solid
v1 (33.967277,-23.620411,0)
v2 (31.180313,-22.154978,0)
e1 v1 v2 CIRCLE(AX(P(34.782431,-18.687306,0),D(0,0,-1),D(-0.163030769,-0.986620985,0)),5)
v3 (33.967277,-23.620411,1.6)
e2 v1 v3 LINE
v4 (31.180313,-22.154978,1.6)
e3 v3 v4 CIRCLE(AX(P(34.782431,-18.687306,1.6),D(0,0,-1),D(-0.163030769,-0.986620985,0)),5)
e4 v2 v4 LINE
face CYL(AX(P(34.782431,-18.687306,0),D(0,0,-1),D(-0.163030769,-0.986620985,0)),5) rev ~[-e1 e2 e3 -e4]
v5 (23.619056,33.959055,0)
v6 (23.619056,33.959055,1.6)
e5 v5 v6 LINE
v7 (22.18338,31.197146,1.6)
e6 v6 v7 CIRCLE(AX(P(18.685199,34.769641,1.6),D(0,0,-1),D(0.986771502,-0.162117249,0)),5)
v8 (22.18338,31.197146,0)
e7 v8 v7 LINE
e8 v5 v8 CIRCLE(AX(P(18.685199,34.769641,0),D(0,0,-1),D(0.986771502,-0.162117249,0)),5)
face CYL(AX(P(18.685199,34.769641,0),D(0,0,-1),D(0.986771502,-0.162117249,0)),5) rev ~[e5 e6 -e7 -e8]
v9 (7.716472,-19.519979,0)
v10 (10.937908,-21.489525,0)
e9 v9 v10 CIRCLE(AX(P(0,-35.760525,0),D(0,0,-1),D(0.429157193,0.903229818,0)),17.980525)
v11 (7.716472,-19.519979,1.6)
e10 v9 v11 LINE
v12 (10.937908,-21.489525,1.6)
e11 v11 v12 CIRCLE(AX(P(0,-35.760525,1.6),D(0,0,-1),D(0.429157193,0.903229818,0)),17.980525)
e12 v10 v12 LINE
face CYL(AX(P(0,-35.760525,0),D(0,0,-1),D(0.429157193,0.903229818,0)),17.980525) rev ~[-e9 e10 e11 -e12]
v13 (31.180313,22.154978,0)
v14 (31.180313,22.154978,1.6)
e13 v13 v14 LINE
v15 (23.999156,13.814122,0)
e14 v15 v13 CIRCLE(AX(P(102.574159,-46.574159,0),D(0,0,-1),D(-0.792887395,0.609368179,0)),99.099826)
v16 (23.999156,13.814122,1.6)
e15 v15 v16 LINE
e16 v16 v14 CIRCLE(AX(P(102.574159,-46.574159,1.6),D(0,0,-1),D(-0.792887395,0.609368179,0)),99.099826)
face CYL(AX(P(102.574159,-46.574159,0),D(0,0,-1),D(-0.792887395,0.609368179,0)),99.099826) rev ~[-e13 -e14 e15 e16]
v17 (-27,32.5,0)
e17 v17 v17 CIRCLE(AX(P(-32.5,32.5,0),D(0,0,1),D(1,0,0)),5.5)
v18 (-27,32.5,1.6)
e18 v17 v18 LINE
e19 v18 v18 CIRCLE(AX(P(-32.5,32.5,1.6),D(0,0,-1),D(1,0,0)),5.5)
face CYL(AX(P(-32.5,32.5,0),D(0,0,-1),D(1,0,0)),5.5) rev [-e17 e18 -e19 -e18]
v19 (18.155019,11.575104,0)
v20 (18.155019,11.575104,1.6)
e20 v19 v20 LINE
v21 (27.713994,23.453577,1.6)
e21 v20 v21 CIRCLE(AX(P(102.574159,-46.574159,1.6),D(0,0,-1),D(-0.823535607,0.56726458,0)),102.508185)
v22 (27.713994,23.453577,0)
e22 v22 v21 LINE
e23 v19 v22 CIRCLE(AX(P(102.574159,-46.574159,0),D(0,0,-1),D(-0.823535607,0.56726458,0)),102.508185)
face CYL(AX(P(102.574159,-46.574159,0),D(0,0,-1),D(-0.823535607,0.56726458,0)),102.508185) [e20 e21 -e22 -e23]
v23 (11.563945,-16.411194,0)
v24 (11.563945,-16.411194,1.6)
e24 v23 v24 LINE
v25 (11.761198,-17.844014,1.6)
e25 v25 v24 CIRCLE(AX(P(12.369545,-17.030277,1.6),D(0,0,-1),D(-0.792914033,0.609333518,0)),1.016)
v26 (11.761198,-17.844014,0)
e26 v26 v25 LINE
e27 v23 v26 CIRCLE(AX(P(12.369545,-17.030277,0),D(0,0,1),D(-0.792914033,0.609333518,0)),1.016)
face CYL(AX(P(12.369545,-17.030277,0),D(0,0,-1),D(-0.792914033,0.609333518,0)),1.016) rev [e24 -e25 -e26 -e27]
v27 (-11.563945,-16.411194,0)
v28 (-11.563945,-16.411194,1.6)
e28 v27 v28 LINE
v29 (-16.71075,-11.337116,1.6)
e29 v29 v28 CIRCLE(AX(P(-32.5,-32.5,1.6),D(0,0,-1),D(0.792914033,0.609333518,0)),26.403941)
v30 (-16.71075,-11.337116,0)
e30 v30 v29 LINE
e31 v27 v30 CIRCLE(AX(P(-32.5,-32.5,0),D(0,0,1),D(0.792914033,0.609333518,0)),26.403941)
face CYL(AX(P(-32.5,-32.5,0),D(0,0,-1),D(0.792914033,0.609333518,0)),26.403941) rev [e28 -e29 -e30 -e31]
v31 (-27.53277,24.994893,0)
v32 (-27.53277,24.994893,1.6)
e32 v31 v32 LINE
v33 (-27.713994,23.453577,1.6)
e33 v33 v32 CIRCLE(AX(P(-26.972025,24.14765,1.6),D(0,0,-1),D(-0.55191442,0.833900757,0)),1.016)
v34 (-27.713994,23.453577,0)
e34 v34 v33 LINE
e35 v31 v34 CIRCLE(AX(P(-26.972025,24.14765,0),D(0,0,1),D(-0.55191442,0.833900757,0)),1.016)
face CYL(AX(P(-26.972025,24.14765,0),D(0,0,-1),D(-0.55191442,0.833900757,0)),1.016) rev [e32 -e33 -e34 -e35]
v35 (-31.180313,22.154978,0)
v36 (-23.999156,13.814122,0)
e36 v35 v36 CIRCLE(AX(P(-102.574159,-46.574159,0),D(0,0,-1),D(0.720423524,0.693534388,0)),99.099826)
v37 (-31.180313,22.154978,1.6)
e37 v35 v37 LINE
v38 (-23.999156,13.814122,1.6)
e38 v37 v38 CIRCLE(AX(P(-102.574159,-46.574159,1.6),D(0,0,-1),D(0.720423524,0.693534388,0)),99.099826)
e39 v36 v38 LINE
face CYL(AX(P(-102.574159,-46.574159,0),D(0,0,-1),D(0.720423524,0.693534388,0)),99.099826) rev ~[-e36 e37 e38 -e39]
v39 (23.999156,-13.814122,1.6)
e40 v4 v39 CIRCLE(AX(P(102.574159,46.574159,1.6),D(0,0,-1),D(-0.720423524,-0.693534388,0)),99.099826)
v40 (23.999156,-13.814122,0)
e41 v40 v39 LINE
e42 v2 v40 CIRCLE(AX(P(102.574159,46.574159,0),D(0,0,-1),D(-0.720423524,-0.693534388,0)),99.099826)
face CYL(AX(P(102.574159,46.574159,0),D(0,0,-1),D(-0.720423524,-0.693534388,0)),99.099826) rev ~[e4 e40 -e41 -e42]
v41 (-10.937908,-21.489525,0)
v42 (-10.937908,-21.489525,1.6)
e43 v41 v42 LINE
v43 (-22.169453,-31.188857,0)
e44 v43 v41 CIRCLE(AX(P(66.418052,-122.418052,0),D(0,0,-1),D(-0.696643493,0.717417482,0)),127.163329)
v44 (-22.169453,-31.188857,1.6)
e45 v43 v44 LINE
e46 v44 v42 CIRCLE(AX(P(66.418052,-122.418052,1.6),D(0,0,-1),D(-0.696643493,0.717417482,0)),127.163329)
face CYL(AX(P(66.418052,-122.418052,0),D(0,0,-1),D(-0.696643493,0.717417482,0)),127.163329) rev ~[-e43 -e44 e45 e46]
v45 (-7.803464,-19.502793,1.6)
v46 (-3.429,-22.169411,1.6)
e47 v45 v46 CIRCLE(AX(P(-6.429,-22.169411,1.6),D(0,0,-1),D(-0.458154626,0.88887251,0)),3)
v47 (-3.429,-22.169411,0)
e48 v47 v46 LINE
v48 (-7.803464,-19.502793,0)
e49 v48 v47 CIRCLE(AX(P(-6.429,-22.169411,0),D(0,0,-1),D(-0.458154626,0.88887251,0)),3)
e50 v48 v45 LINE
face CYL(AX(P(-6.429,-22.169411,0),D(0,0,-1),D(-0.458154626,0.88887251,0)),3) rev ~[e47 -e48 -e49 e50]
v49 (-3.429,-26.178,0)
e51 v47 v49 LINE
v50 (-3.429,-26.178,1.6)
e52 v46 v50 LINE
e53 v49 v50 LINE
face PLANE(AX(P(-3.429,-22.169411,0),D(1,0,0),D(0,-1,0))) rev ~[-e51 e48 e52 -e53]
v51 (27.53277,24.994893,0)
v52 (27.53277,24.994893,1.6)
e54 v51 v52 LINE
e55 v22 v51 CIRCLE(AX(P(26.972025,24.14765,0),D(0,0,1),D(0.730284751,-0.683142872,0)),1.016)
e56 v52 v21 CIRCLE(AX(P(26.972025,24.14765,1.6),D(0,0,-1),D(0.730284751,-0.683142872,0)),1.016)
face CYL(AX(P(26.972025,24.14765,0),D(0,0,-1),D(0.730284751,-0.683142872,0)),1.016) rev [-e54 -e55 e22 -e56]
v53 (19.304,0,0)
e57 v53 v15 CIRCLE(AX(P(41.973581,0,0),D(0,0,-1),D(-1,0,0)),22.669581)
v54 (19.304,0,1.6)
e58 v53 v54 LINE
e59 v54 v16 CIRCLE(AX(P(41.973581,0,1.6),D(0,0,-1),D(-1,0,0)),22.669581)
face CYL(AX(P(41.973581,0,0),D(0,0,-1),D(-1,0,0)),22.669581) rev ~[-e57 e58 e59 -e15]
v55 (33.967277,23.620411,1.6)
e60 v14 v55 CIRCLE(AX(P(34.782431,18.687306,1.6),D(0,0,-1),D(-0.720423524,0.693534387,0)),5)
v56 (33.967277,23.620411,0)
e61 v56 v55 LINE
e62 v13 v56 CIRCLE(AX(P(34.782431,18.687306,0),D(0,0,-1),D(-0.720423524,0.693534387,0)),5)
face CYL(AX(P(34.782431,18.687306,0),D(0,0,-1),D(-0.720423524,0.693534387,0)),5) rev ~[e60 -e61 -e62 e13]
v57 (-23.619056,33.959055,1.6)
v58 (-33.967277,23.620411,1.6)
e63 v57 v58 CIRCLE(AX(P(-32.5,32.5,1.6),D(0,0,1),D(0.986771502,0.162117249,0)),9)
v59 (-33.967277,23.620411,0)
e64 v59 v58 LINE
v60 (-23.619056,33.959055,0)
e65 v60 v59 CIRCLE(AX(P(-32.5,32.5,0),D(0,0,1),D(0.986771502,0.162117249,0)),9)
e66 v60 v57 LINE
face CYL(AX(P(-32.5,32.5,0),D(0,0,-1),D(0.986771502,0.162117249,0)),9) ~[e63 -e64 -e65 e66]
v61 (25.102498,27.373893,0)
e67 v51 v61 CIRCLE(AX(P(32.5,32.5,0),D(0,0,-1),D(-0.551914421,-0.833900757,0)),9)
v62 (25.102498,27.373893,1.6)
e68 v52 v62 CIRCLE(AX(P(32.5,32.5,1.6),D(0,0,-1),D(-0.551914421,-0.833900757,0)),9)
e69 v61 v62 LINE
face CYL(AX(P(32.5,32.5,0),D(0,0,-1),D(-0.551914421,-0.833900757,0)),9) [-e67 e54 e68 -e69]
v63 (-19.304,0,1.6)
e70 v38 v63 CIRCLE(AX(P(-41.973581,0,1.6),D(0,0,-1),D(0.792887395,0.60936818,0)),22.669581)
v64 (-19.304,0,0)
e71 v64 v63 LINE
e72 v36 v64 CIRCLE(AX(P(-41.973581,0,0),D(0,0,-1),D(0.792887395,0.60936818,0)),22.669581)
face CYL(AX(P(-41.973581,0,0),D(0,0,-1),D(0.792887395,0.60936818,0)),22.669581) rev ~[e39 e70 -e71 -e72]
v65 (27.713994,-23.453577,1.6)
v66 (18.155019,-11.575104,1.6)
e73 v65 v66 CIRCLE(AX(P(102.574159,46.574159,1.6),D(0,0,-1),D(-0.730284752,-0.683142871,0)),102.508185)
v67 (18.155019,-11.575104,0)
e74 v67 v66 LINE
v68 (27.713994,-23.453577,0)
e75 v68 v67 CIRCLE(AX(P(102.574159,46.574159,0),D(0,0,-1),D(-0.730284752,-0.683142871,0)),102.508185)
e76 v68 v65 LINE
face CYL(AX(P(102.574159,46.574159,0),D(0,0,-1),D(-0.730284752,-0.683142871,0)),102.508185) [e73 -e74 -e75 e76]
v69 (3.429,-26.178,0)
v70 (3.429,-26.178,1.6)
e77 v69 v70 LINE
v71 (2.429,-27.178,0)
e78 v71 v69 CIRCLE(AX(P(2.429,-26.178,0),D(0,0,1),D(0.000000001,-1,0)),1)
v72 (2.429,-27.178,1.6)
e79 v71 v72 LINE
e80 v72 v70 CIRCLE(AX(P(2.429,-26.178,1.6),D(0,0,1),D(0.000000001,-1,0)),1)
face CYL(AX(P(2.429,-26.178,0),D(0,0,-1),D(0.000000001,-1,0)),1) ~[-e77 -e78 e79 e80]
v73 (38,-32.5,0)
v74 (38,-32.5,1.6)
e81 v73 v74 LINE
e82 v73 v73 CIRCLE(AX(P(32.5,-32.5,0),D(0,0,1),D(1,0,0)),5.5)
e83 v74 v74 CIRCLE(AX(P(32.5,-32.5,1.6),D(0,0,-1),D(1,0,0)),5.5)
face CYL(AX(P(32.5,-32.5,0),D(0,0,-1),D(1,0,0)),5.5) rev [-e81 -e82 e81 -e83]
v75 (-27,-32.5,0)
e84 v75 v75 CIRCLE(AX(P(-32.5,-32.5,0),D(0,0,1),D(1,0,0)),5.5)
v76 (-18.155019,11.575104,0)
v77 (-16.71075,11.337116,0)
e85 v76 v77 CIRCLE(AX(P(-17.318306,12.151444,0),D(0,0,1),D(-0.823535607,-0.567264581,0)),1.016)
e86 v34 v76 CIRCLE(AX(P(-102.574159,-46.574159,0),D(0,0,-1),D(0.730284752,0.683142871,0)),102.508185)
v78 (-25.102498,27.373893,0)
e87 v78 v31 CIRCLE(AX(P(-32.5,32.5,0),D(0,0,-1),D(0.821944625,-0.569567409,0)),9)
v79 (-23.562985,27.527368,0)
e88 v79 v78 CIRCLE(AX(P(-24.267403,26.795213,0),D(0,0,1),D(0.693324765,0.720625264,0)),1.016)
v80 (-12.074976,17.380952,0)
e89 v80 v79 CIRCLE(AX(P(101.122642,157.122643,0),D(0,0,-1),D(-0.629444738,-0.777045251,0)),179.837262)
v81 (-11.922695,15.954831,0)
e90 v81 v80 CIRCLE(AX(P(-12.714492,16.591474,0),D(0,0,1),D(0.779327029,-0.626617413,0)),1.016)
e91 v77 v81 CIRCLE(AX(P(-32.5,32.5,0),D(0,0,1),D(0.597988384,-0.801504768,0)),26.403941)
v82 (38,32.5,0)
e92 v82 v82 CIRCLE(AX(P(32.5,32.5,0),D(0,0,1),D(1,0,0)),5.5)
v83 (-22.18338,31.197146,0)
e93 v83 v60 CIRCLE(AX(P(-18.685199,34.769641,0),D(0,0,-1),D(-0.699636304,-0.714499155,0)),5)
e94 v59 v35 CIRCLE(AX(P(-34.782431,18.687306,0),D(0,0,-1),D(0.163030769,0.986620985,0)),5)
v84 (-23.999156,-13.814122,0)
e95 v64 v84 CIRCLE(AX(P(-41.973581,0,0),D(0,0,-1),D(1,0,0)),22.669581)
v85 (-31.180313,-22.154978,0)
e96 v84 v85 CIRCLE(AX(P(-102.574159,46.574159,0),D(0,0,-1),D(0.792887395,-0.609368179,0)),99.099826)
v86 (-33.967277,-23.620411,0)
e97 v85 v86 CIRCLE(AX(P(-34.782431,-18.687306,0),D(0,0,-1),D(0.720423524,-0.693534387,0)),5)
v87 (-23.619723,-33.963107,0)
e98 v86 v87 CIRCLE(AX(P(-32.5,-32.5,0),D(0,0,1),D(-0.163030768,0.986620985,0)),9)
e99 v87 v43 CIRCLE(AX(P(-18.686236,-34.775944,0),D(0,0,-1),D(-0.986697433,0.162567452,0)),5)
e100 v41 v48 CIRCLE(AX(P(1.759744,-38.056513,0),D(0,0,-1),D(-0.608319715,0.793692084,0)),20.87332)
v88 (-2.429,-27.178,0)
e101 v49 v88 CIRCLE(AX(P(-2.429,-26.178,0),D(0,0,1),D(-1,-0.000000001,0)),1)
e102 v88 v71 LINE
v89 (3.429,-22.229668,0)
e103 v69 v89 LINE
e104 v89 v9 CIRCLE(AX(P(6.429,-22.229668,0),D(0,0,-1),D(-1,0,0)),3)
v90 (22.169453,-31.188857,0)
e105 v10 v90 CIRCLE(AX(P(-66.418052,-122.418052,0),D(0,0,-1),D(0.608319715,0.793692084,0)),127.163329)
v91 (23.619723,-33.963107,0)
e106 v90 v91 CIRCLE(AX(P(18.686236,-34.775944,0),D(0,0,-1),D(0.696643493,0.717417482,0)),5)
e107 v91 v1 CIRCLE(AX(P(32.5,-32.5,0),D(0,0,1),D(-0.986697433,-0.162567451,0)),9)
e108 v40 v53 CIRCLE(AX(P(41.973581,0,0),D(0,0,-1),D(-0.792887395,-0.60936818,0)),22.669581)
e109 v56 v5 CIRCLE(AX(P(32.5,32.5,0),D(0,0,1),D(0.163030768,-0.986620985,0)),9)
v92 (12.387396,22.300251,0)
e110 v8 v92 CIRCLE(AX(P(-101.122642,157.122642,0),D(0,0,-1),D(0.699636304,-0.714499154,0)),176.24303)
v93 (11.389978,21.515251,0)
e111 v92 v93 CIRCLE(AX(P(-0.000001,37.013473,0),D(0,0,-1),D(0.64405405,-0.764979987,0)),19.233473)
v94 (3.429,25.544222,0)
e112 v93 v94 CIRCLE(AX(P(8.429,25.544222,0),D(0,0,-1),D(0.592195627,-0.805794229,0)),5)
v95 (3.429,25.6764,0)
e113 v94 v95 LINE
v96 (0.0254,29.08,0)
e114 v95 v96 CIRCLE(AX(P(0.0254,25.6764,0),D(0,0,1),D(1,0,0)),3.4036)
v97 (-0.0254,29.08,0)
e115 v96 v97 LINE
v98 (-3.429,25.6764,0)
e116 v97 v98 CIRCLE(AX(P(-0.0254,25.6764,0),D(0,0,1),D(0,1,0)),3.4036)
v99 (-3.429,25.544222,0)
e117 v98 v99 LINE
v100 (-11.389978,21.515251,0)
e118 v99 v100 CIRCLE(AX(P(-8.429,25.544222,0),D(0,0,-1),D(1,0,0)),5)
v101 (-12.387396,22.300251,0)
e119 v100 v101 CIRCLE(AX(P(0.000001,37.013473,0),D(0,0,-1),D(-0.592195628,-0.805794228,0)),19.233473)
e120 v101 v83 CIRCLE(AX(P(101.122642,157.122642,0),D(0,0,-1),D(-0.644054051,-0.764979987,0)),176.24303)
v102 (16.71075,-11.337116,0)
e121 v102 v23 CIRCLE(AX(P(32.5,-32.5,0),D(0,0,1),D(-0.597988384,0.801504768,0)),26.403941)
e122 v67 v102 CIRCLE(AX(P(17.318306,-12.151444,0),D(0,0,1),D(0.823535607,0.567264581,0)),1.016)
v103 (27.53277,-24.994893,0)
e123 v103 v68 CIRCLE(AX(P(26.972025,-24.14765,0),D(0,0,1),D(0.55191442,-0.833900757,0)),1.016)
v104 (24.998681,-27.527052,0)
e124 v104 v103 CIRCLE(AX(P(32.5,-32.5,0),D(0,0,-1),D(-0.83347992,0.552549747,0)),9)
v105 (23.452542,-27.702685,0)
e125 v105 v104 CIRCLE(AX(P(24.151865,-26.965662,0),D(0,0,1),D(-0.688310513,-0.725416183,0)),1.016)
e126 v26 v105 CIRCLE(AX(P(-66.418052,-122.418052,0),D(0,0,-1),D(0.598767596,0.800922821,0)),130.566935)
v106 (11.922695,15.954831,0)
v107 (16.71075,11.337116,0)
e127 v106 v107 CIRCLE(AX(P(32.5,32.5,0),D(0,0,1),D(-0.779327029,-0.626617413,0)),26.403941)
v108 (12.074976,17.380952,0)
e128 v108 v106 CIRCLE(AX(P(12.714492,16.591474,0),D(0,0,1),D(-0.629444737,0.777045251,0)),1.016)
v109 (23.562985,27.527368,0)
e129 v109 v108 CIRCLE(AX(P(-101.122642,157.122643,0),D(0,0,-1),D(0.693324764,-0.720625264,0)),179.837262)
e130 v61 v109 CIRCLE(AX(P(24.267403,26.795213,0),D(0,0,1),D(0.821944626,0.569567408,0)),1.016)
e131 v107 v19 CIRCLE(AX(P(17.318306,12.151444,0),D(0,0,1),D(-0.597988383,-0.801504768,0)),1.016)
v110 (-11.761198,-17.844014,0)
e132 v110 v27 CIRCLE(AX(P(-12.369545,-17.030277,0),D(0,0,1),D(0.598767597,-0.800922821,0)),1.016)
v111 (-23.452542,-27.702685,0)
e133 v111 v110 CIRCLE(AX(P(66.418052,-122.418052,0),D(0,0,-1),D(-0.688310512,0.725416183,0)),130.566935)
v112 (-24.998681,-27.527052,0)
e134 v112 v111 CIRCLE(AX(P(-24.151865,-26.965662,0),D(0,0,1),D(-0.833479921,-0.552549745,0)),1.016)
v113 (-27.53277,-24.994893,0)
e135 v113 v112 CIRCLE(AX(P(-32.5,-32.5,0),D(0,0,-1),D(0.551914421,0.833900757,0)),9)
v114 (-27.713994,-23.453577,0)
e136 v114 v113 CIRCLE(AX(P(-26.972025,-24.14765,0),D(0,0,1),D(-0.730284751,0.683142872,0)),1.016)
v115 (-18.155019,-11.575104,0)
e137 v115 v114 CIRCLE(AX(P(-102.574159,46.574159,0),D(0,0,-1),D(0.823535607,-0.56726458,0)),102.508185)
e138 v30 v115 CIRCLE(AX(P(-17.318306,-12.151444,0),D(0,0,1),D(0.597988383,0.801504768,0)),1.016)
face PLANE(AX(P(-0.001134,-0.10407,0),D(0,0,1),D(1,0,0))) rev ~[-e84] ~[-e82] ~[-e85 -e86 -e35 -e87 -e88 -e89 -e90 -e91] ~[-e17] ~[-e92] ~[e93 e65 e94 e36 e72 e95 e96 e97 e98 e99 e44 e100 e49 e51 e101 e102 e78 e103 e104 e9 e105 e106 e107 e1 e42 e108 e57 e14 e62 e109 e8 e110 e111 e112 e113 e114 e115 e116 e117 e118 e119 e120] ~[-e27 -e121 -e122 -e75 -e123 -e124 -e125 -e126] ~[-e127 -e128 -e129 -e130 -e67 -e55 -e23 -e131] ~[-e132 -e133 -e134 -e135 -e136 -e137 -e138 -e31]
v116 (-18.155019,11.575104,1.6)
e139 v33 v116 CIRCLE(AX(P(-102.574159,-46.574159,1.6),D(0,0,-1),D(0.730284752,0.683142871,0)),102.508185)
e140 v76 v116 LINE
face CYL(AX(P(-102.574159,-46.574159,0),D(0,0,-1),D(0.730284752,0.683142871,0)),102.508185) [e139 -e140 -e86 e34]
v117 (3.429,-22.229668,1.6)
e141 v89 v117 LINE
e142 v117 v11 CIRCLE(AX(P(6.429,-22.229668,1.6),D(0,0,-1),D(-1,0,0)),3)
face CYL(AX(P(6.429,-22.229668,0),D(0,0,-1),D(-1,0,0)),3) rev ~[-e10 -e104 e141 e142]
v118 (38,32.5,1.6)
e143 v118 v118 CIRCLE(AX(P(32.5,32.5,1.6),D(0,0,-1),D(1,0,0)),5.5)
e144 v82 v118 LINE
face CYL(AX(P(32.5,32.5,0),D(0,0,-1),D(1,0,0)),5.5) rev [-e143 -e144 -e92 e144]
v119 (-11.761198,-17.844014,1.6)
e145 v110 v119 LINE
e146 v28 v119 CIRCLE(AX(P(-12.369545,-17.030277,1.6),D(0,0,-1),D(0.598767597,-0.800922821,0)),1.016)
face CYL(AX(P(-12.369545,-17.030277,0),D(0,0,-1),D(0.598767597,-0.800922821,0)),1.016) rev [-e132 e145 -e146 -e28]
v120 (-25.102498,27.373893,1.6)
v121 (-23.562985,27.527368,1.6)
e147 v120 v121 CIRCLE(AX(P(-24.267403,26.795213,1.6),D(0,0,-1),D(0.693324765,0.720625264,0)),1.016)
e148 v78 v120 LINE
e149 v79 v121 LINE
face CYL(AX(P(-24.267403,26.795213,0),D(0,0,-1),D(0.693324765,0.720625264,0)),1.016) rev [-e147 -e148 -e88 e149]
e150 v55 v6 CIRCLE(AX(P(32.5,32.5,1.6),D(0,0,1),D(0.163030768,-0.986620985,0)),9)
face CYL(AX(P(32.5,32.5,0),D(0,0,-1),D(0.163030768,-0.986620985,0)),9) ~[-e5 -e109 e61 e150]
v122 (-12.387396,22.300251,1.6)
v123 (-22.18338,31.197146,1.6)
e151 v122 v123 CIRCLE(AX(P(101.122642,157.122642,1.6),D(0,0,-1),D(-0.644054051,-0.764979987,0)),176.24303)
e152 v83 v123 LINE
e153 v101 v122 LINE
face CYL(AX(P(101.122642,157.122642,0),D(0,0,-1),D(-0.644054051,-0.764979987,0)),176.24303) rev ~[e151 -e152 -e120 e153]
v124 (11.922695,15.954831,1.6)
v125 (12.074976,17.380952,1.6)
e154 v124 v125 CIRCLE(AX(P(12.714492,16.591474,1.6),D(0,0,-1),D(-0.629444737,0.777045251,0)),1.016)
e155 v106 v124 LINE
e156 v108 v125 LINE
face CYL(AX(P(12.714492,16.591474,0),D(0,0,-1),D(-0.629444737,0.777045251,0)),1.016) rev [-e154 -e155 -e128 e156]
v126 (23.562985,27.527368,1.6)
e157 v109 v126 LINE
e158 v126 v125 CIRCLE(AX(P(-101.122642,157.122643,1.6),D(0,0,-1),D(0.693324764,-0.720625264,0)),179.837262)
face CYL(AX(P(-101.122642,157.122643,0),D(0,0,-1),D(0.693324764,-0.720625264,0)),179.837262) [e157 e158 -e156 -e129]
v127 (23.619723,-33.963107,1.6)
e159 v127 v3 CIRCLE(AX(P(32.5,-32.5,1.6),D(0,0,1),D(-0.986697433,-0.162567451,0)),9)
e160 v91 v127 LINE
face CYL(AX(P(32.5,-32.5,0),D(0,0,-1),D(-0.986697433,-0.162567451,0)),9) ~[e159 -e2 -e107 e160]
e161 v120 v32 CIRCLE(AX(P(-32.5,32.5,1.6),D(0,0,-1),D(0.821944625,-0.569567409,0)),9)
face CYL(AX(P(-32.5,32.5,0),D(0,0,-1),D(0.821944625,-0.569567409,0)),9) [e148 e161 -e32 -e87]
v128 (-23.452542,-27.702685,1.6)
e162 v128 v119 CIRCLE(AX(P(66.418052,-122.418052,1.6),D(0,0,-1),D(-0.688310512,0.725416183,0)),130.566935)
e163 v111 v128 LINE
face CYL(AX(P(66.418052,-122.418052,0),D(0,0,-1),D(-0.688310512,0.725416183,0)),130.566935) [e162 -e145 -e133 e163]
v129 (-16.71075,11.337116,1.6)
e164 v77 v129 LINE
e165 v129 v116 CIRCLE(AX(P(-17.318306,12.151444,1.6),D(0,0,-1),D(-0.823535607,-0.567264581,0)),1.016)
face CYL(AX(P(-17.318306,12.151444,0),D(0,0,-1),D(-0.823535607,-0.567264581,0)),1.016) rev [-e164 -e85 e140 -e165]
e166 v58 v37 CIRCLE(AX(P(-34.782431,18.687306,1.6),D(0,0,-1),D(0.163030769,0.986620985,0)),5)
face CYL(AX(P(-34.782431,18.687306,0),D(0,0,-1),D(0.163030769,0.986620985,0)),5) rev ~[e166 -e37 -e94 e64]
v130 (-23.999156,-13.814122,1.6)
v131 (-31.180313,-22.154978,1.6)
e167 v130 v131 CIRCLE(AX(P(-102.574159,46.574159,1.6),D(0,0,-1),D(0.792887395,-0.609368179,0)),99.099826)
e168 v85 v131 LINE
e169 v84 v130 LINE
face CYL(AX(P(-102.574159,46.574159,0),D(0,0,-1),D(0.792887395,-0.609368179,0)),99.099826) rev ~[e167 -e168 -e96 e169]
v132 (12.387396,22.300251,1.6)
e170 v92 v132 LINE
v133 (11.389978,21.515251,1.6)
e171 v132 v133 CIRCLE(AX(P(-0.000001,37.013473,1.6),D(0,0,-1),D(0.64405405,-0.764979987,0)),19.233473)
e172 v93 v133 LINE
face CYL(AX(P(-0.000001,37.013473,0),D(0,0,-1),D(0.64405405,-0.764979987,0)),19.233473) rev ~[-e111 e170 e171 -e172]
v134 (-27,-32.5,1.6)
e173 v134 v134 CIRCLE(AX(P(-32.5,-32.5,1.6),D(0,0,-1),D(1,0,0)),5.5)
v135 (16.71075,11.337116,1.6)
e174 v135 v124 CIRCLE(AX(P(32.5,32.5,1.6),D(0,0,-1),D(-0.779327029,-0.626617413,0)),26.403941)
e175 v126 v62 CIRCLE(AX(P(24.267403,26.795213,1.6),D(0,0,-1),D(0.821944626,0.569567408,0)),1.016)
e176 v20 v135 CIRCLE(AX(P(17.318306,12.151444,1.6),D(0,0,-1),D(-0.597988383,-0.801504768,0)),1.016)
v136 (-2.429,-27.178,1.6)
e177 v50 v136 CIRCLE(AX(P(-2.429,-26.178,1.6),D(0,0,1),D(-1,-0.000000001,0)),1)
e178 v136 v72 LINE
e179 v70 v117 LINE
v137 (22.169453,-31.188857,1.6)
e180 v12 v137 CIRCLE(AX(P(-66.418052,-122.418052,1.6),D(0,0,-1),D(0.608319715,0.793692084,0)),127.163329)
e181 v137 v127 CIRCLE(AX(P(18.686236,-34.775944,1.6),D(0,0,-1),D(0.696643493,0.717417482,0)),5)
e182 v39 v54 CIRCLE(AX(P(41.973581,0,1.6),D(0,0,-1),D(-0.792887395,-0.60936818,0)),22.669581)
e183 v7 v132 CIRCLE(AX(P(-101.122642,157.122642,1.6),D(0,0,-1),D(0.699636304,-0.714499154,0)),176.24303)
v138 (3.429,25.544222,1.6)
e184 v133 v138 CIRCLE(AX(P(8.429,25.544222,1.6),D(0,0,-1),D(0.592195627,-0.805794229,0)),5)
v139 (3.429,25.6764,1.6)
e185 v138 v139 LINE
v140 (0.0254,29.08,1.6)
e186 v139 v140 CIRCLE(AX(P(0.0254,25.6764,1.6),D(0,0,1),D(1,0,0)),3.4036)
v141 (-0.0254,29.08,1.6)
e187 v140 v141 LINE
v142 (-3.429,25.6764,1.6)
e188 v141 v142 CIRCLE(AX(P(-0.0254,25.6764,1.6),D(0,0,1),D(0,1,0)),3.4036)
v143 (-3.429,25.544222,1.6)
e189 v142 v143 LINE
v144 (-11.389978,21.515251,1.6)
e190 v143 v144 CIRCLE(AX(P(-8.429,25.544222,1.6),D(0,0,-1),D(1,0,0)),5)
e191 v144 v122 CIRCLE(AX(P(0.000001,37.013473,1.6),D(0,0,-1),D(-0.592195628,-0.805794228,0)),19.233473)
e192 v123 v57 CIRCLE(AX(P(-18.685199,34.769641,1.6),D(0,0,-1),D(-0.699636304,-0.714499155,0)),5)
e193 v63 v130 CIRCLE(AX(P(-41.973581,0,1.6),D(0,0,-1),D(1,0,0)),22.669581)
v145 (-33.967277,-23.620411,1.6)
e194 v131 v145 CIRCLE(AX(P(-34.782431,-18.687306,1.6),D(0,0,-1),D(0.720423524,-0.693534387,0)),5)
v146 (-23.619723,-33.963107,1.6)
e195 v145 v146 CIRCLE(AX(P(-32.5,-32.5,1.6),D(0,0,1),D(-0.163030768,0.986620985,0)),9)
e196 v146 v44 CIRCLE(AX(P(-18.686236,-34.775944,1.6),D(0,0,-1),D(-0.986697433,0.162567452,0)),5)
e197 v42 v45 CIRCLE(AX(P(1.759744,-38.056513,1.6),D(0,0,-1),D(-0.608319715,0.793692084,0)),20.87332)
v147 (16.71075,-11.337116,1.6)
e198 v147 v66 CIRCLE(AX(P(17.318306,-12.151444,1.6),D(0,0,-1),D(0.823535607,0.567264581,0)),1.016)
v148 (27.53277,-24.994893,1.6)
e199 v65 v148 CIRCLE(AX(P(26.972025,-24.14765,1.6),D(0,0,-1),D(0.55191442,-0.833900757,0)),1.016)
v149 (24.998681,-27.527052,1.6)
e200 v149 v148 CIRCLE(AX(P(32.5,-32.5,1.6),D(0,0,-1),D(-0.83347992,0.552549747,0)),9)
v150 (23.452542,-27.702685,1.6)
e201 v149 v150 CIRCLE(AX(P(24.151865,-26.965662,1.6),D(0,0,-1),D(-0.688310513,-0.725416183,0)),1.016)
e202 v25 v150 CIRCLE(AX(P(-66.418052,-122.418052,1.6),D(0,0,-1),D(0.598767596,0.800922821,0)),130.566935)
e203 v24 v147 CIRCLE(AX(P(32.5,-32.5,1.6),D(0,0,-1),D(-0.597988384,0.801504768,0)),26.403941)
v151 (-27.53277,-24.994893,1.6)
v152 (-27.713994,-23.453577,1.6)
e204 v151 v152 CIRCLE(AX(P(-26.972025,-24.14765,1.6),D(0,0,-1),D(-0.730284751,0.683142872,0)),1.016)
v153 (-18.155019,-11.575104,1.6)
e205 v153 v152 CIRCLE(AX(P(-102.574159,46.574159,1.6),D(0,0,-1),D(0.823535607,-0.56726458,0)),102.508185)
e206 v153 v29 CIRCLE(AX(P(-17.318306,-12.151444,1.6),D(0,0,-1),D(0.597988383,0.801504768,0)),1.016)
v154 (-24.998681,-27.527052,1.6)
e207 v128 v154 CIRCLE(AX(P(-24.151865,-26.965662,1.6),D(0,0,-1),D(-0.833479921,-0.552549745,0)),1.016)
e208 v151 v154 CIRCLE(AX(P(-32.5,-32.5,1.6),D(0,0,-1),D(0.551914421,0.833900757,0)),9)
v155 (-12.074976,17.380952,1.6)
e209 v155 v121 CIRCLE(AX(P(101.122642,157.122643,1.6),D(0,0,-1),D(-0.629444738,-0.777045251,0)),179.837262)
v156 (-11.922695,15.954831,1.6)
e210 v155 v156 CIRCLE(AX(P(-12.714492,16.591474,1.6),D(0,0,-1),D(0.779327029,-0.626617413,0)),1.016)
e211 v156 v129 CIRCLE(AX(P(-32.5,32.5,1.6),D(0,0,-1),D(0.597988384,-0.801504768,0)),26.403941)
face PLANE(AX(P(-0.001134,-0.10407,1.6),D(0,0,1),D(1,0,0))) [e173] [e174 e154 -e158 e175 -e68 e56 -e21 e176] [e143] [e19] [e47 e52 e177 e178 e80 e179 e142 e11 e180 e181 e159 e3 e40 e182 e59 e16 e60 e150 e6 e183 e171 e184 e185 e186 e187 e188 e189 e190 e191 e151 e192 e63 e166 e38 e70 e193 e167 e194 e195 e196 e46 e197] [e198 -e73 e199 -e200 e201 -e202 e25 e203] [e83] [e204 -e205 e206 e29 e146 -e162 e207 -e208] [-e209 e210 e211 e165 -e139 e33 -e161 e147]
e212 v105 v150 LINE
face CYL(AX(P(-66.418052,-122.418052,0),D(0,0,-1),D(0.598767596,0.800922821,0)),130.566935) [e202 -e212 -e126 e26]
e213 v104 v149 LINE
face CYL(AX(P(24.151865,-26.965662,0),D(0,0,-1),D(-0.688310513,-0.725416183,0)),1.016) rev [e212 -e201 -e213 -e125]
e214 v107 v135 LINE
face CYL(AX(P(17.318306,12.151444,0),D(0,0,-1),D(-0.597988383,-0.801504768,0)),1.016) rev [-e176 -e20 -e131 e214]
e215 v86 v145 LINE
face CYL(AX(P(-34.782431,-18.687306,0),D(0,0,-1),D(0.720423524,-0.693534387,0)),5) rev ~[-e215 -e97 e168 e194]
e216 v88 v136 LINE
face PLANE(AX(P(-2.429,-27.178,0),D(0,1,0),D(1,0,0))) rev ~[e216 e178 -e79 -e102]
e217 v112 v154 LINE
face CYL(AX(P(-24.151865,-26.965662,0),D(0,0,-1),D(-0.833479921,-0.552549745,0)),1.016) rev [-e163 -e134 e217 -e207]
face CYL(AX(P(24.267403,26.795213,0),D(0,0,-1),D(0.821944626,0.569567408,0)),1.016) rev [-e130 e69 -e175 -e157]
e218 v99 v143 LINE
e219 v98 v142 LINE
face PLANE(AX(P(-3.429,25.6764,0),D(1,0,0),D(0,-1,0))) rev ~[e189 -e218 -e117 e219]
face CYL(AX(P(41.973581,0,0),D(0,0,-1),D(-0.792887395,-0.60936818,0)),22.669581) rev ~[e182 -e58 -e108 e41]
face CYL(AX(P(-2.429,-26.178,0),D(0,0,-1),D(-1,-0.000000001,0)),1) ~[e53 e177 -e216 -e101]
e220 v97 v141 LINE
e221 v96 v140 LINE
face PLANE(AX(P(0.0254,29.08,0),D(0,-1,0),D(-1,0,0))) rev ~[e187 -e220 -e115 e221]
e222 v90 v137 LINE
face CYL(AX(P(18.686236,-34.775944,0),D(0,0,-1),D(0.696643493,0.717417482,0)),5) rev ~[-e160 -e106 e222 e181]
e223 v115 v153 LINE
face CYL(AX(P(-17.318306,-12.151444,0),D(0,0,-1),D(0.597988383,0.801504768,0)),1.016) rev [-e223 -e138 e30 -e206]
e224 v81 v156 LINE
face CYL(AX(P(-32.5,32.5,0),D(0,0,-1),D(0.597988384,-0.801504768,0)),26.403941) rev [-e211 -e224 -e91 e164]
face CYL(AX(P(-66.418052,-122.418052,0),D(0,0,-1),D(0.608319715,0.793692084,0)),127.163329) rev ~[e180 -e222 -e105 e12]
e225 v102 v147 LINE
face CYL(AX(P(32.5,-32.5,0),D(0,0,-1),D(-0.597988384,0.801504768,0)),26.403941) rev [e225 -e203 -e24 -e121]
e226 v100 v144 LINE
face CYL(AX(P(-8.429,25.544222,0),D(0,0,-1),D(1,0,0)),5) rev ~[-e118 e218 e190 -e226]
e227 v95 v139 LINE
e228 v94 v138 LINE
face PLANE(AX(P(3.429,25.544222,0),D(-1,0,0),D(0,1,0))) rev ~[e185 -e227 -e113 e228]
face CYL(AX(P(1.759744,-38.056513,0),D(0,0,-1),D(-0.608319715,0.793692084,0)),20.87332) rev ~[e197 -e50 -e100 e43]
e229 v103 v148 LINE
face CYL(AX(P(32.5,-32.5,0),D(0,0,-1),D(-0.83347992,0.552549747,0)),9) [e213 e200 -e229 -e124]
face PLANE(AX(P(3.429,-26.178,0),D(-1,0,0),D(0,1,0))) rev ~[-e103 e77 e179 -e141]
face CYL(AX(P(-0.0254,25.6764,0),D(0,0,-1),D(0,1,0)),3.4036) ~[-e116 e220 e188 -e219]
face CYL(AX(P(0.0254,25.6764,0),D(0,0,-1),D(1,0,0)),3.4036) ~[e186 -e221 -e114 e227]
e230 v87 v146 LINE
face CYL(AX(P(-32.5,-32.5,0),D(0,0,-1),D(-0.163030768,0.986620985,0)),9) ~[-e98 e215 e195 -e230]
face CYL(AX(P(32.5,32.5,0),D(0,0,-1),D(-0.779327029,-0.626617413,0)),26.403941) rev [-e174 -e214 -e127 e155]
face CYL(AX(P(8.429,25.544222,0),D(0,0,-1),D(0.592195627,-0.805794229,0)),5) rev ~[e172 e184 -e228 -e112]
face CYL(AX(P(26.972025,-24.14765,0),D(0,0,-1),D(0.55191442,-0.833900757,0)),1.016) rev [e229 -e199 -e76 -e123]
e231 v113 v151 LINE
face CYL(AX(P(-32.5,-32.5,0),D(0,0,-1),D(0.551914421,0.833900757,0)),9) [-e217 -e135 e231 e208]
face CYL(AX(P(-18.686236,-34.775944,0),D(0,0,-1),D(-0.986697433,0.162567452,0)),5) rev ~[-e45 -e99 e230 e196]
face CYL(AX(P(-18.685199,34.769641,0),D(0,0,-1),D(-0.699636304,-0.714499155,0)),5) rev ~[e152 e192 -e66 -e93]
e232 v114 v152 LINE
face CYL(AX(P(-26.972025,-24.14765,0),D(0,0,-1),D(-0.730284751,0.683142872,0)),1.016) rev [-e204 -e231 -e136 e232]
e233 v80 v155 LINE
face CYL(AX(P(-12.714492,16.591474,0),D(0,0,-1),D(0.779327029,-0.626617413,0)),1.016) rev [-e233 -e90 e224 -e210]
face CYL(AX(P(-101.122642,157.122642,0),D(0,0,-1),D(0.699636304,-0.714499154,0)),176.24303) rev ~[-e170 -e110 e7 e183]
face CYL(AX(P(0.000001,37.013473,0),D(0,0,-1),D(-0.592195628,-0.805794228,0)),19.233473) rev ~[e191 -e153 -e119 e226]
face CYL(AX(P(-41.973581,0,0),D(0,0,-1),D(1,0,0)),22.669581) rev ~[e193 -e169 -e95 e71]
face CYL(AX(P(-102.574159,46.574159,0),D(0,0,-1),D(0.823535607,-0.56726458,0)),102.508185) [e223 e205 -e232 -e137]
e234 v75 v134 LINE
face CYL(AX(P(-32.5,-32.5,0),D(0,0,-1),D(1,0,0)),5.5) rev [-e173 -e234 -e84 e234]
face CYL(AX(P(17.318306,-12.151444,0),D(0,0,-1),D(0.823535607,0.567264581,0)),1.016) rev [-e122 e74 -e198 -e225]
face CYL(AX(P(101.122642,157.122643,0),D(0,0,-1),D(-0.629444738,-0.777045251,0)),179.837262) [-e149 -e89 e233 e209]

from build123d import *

# Parameters (mm, degrees)
BOSS_EXTRUDE1_DEPTH = 1.6
SKETCH1_5_R         = 5.5
CUT_EXTRUDE3_DEPTH  = 59.711668346


with BuildPart() as part:
    # Sketch1 → Boss-Extrude1 (new body)
    with BuildSketch(Plane.XY):
        with BuildLine():
            Line((-3.429, -22.169410702), (-3.429, -26.178))
            ThreePointArc((-3.429, -26.178), (-3.136106781, -26.885106781), (-2.429, -27.178))
            Line((-2.429, -27.178), (2.429, -27.178))
            ThreePointArc((2.429, -27.178), (3.136106781, -26.885106781), (3.429, -26.178))
            Line((3.429, -26.178), (3.429, -22.22966812))
            ThreePointArc((3.429, -22.22966812), (4.826254657, -19.693685595), (7.716471578, -19.519978666))
            ThreePointArc((7.716471578, -19.519978666), (9.379032197, -20.419956769), (10.937907763, -21.489524611))
            ThreePointArc((10.937907763, -21.489524611), (16.695290309, -26.175210804), (22.169453406, -31.188856909))
            ThreePointArc((22.169453406, -31.188856909), (23.117301861, -32.459556006), (23.619723106, -33.963107063))
            ThreePointArc((23.619723106, -33.963107063), (38.862466656, -38.865455055), (33.967276916, -23.620411133))
            ThreePointArc((33.967276916, -23.620411133), (32.455427267, -23.112806715), (31.180313141, -22.154978144))
            ThreePointArc((31.180313141, -22.154978144), (27.47385025, -18.084321842), (23.999156064, -13.81412159))
            ThreePointArc((23.999156064, -13.81412159), (20.509860624, -7.295108734), (19.304, 0))
            ThreePointArc((19.304, 0), (20.509860624, 7.295108734), (23.999156064, 13.81412159))
            ThreePointArc((23.999156064, 13.81412159), (27.47385025, 18.084321842), (31.180313141, 22.154978144))
            ThreePointArc((31.180313141, 22.154978144), (32.455427267, 23.112806715), (33.967276916, 23.620411133))
            ThreePointArc((33.967276916, 23.620411133), (38.861014354, 38.866906343), (23.61905648, 33.959055239))
            ThreePointArc((23.61905648, 33.959055239), (23.121622823, 32.463531472), (22.183380489, 31.19714571))
            ThreePointArc((22.183380489, 31.19714571), (17.368920037, 26.656724902), (12.387395689, 22.300250899))
            ThreePointArc((12.387395689, 22.300250899), (11.895164251, 21.899521015), (11.389978134, 21.515251299))
            ThreePointArc((11.389978134, 21.515251299), (6.171223513, 21.083006766), (3.429, 25.544222445))
            Line((3.429, 25.544222445), (3.429, 25.6764))
            ThreePointArc((3.429, 25.6764), (2.43210864, 28.08310864), (0.0254, 29.08))
            Line((0.0254, 29.08), (-0.0254, 29.08))
            ThreePointArc((-0.0254, 29.08), (-2.43210864, 28.08310864), (-3.429, 25.6764))
            Line((-3.429, 25.6764), (-3.429, 25.544222445))
            ThreePointArc((-3.429, 25.544222445), (-6.171223513, 21.083006766), (-11.389978134, 21.515251299))
            ThreePointArc((-11.389978134, 21.515251299), (-11.895164251, 21.899521015), (-12.387395689, 22.300250899))
            ThreePointArc((-12.387395689, 22.300250899), (-17.368920037, 26.656724902), (-22.183380489, 31.19714571))
            ThreePointArc((-22.183380489, 31.19714571), (-23.121622823, 32.463531472), (-23.61905648, 33.959055239))
            ThreePointArc((-23.61905648, 33.959055239), (-38.861014354, 38.866906343), (-33.967276916, 23.620411133))
            ThreePointArc((-33.967276916, 23.620411133), (-32.455427267, 23.112806715), (-31.180313141, 22.154978144))
            ThreePointArc((-31.180313141, 22.154978144), (-27.47385025, 18.084321842), (-23.999156064, 13.81412159))
            ThreePointArc((-23.999156064, 13.81412159), (-20.509860624, 7.295108734), (-19.304, 0))
            ThreePointArc((-19.304, 0), (-20.509860624, -7.295108734), (-23.999156064, -13.81412159))
            ThreePointArc((-23.999156064, -13.81412159), (-27.47385025, -18.084321842), (-31.180313141, -22.154978144))
            ThreePointArc((-31.180313141, -22.154978144), (-32.455427267, -23.112806715), (-33.967276916, -23.620411133))
            ThreePointArc((-33.967276916, -23.620411133), (-38.862466656, -38.865455055), (-23.619723106, -33.963107063))
            ThreePointArc((-23.619723106, -33.963107063), (-23.117301861, -32.459556006), (-22.169453406, -31.188856909))
            ThreePointArc((-22.169453406, -31.188856909), (-16.695290309, -26.175210804), (-10.937907763, -21.489524611))
            ThreePointArc((-10.937907763, -21.489524611), (-9.414925724, -20.426362093), (-7.803463878, -19.502793172))
            ThreePointArc((-7.803463878, -19.502793172), (-4.867492977, -19.607829975), (-3.429, -22.169410702))
        make_face()
    extrude(amount=BOSS_EXTRUDE1_DEPTH)

    # Sketch1<5> → Cut-Extrude3 (cut, through all)
    with BuildSketch(Plane.XY):
        with Locations((-32.5, -32.5)):
            Circle(SKETCH1_5_R)
        with Locations((32.5, -32.5)):
            Circle(SKETCH1_5_R)
        with Locations((32.5, 32.5)):
            Circle(SKETCH1_5_R)
        with Locations((-32.5, 32.5)):
            Circle(SKETCH1_5_R)
        with BuildLine():
            ThreePointArc((-24.998680714, -27.527052285), (-24.266539251, -27.975169466), (-23.452541635, -27.702684585))
            ThreePointArc((-23.452541635, -27.702684585), (-17.751335536, -22.602028101), (-11.761197607, -17.84401432))
            ThreePointArc((-11.761197607, -17.84401432), (-11.363038546, -17.168840008), (-11.563944828, -16.411193879))
            ThreePointArc((-11.563944828, -16.411193879), (-13.962913518, -13.697220596), (-16.710750131, -11.337115576))
            ThreePointArc((-16.710750131, -11.337115576), (-17.483496193, -11.148963344), (-18.155018506, -11.575103607))
            ThreePointArc((-18.155018506, -11.575103607), (-22.713350188, -17.692311571), (-27.713994469, -23.453576864))
            ThreePointArc((-27.713994469, -23.453576864), (-27.981074308, -24.266291585), (-27.532770213, -24.994893189))
            ThreePointArc((-27.532770213, -24.994893189), (-26.138464304, -26.133614559), (-24.998680714, -27.527052285))
        make_face()
        with BuildLine():
            ThreePointArc((18.155018506, -11.575103607), (17.483496193, -11.148963344), (16.710750131, -11.337115576))
            ThreePointArc((16.710750131, -11.337115576), (13.962913518, -13.697220596), (11.563944828, -16.411193879))
            ThreePointArc((11.563944828, -16.411193879), (11.363038546, -17.168840008), (11.761197607, -17.84401432))
            ThreePointArc((11.761197607, -17.84401432), (17.751335536, -22.602028101), (23.452541635, -27.702684585))
            ThreePointArc((23.452541635, -27.702684585), (24.266539251, -27.975169466), (24.998680714, -27.527052285))
            ThreePointArc((24.998680714, -27.527052285), (26.138464304, -26.133614559), (27.532770213, -24.994893189))
            ThreePointArc((27.532770213, -24.994893189), (27.981074308, -24.266291585), (27.713994469, -23.453576864))
            ThreePointArc((27.713994469, -23.453576864), (22.713350188, -17.692311571), (18.155018506, -11.575103607))
        make_face()
        with BuildLine():
            ThreePointArc((-12.074975691, 17.380952209), (-17.927124595, 22.331716527), (-23.562984675, 27.527368101))
            ThreePointArc((-23.562984675, 27.527368101), (-24.368188535, 27.806201558), (-25.102498374, 27.37389332))
            ThreePointArc((-25.102498374, 27.37389332), (-26.204243006, 26.068558181), (-27.532770213, 24.994893189))
            ThreePointArc((-27.532770213, 24.994893189), (-27.981074308, 24.266291585), (-27.713994469, 23.453576864))
            ThreePointArc((-27.713994469, 23.453576864), (-22.713350188, 17.692311571), (-18.155018506, 11.575103607))
            ThreePointArc((-18.155018506, 11.575103607), (-17.483496193, 11.148963344), (-16.710750131, 11.337115576))
            ThreePointArc((-16.710750131, 11.337115576), (-14.170722957, 13.494587833), (-11.922695283, 15.954830943))
            ThreePointArc((-11.922695283, 15.954830943), (-11.704234617, 16.699348887), (-12.074975691, 17.380952209))
        make_face()
        with BuildLine():
            ThreePointArc((25.102498374, 27.37389332), (24.368188535, 27.806201558), (23.562984675, 27.527368101))
            ThreePointArc((23.562984675, 27.527368101), (17.927124595, 22.331716527), (12.074975691, 17.380952209))
            ThreePointArc((12.074975691, 17.380952209), (11.704234617, 16.699348887), (11.922695283, 15.954830943))
            ThreePointArc((11.922695283, 15.954830943), (14.170722957, 13.494587833), (16.710750131, 11.337115576))
            ThreePointArc((16.710750131, 11.337115576), (17.483496193, 11.148963344), (18.155018506, 11.575103607))
            ThreePointArc((18.155018506, 11.575103607), (22.713350188, 17.692311571), (27.713994469, 23.453576864))
            ThreePointArc((27.713994469, 23.453576864), (27.981074308, 24.266291585), (27.532770213, 24.994893189))
            ThreePointArc((27.532770213, 24.994893189), (26.204243006, 26.068558181), (25.102498374, 27.37389332))
        make_face()
    extrude(amount=CUT_EXTRUDE3_DEPTH, mode=Mode.SUBTRACT)


solid = part.part
